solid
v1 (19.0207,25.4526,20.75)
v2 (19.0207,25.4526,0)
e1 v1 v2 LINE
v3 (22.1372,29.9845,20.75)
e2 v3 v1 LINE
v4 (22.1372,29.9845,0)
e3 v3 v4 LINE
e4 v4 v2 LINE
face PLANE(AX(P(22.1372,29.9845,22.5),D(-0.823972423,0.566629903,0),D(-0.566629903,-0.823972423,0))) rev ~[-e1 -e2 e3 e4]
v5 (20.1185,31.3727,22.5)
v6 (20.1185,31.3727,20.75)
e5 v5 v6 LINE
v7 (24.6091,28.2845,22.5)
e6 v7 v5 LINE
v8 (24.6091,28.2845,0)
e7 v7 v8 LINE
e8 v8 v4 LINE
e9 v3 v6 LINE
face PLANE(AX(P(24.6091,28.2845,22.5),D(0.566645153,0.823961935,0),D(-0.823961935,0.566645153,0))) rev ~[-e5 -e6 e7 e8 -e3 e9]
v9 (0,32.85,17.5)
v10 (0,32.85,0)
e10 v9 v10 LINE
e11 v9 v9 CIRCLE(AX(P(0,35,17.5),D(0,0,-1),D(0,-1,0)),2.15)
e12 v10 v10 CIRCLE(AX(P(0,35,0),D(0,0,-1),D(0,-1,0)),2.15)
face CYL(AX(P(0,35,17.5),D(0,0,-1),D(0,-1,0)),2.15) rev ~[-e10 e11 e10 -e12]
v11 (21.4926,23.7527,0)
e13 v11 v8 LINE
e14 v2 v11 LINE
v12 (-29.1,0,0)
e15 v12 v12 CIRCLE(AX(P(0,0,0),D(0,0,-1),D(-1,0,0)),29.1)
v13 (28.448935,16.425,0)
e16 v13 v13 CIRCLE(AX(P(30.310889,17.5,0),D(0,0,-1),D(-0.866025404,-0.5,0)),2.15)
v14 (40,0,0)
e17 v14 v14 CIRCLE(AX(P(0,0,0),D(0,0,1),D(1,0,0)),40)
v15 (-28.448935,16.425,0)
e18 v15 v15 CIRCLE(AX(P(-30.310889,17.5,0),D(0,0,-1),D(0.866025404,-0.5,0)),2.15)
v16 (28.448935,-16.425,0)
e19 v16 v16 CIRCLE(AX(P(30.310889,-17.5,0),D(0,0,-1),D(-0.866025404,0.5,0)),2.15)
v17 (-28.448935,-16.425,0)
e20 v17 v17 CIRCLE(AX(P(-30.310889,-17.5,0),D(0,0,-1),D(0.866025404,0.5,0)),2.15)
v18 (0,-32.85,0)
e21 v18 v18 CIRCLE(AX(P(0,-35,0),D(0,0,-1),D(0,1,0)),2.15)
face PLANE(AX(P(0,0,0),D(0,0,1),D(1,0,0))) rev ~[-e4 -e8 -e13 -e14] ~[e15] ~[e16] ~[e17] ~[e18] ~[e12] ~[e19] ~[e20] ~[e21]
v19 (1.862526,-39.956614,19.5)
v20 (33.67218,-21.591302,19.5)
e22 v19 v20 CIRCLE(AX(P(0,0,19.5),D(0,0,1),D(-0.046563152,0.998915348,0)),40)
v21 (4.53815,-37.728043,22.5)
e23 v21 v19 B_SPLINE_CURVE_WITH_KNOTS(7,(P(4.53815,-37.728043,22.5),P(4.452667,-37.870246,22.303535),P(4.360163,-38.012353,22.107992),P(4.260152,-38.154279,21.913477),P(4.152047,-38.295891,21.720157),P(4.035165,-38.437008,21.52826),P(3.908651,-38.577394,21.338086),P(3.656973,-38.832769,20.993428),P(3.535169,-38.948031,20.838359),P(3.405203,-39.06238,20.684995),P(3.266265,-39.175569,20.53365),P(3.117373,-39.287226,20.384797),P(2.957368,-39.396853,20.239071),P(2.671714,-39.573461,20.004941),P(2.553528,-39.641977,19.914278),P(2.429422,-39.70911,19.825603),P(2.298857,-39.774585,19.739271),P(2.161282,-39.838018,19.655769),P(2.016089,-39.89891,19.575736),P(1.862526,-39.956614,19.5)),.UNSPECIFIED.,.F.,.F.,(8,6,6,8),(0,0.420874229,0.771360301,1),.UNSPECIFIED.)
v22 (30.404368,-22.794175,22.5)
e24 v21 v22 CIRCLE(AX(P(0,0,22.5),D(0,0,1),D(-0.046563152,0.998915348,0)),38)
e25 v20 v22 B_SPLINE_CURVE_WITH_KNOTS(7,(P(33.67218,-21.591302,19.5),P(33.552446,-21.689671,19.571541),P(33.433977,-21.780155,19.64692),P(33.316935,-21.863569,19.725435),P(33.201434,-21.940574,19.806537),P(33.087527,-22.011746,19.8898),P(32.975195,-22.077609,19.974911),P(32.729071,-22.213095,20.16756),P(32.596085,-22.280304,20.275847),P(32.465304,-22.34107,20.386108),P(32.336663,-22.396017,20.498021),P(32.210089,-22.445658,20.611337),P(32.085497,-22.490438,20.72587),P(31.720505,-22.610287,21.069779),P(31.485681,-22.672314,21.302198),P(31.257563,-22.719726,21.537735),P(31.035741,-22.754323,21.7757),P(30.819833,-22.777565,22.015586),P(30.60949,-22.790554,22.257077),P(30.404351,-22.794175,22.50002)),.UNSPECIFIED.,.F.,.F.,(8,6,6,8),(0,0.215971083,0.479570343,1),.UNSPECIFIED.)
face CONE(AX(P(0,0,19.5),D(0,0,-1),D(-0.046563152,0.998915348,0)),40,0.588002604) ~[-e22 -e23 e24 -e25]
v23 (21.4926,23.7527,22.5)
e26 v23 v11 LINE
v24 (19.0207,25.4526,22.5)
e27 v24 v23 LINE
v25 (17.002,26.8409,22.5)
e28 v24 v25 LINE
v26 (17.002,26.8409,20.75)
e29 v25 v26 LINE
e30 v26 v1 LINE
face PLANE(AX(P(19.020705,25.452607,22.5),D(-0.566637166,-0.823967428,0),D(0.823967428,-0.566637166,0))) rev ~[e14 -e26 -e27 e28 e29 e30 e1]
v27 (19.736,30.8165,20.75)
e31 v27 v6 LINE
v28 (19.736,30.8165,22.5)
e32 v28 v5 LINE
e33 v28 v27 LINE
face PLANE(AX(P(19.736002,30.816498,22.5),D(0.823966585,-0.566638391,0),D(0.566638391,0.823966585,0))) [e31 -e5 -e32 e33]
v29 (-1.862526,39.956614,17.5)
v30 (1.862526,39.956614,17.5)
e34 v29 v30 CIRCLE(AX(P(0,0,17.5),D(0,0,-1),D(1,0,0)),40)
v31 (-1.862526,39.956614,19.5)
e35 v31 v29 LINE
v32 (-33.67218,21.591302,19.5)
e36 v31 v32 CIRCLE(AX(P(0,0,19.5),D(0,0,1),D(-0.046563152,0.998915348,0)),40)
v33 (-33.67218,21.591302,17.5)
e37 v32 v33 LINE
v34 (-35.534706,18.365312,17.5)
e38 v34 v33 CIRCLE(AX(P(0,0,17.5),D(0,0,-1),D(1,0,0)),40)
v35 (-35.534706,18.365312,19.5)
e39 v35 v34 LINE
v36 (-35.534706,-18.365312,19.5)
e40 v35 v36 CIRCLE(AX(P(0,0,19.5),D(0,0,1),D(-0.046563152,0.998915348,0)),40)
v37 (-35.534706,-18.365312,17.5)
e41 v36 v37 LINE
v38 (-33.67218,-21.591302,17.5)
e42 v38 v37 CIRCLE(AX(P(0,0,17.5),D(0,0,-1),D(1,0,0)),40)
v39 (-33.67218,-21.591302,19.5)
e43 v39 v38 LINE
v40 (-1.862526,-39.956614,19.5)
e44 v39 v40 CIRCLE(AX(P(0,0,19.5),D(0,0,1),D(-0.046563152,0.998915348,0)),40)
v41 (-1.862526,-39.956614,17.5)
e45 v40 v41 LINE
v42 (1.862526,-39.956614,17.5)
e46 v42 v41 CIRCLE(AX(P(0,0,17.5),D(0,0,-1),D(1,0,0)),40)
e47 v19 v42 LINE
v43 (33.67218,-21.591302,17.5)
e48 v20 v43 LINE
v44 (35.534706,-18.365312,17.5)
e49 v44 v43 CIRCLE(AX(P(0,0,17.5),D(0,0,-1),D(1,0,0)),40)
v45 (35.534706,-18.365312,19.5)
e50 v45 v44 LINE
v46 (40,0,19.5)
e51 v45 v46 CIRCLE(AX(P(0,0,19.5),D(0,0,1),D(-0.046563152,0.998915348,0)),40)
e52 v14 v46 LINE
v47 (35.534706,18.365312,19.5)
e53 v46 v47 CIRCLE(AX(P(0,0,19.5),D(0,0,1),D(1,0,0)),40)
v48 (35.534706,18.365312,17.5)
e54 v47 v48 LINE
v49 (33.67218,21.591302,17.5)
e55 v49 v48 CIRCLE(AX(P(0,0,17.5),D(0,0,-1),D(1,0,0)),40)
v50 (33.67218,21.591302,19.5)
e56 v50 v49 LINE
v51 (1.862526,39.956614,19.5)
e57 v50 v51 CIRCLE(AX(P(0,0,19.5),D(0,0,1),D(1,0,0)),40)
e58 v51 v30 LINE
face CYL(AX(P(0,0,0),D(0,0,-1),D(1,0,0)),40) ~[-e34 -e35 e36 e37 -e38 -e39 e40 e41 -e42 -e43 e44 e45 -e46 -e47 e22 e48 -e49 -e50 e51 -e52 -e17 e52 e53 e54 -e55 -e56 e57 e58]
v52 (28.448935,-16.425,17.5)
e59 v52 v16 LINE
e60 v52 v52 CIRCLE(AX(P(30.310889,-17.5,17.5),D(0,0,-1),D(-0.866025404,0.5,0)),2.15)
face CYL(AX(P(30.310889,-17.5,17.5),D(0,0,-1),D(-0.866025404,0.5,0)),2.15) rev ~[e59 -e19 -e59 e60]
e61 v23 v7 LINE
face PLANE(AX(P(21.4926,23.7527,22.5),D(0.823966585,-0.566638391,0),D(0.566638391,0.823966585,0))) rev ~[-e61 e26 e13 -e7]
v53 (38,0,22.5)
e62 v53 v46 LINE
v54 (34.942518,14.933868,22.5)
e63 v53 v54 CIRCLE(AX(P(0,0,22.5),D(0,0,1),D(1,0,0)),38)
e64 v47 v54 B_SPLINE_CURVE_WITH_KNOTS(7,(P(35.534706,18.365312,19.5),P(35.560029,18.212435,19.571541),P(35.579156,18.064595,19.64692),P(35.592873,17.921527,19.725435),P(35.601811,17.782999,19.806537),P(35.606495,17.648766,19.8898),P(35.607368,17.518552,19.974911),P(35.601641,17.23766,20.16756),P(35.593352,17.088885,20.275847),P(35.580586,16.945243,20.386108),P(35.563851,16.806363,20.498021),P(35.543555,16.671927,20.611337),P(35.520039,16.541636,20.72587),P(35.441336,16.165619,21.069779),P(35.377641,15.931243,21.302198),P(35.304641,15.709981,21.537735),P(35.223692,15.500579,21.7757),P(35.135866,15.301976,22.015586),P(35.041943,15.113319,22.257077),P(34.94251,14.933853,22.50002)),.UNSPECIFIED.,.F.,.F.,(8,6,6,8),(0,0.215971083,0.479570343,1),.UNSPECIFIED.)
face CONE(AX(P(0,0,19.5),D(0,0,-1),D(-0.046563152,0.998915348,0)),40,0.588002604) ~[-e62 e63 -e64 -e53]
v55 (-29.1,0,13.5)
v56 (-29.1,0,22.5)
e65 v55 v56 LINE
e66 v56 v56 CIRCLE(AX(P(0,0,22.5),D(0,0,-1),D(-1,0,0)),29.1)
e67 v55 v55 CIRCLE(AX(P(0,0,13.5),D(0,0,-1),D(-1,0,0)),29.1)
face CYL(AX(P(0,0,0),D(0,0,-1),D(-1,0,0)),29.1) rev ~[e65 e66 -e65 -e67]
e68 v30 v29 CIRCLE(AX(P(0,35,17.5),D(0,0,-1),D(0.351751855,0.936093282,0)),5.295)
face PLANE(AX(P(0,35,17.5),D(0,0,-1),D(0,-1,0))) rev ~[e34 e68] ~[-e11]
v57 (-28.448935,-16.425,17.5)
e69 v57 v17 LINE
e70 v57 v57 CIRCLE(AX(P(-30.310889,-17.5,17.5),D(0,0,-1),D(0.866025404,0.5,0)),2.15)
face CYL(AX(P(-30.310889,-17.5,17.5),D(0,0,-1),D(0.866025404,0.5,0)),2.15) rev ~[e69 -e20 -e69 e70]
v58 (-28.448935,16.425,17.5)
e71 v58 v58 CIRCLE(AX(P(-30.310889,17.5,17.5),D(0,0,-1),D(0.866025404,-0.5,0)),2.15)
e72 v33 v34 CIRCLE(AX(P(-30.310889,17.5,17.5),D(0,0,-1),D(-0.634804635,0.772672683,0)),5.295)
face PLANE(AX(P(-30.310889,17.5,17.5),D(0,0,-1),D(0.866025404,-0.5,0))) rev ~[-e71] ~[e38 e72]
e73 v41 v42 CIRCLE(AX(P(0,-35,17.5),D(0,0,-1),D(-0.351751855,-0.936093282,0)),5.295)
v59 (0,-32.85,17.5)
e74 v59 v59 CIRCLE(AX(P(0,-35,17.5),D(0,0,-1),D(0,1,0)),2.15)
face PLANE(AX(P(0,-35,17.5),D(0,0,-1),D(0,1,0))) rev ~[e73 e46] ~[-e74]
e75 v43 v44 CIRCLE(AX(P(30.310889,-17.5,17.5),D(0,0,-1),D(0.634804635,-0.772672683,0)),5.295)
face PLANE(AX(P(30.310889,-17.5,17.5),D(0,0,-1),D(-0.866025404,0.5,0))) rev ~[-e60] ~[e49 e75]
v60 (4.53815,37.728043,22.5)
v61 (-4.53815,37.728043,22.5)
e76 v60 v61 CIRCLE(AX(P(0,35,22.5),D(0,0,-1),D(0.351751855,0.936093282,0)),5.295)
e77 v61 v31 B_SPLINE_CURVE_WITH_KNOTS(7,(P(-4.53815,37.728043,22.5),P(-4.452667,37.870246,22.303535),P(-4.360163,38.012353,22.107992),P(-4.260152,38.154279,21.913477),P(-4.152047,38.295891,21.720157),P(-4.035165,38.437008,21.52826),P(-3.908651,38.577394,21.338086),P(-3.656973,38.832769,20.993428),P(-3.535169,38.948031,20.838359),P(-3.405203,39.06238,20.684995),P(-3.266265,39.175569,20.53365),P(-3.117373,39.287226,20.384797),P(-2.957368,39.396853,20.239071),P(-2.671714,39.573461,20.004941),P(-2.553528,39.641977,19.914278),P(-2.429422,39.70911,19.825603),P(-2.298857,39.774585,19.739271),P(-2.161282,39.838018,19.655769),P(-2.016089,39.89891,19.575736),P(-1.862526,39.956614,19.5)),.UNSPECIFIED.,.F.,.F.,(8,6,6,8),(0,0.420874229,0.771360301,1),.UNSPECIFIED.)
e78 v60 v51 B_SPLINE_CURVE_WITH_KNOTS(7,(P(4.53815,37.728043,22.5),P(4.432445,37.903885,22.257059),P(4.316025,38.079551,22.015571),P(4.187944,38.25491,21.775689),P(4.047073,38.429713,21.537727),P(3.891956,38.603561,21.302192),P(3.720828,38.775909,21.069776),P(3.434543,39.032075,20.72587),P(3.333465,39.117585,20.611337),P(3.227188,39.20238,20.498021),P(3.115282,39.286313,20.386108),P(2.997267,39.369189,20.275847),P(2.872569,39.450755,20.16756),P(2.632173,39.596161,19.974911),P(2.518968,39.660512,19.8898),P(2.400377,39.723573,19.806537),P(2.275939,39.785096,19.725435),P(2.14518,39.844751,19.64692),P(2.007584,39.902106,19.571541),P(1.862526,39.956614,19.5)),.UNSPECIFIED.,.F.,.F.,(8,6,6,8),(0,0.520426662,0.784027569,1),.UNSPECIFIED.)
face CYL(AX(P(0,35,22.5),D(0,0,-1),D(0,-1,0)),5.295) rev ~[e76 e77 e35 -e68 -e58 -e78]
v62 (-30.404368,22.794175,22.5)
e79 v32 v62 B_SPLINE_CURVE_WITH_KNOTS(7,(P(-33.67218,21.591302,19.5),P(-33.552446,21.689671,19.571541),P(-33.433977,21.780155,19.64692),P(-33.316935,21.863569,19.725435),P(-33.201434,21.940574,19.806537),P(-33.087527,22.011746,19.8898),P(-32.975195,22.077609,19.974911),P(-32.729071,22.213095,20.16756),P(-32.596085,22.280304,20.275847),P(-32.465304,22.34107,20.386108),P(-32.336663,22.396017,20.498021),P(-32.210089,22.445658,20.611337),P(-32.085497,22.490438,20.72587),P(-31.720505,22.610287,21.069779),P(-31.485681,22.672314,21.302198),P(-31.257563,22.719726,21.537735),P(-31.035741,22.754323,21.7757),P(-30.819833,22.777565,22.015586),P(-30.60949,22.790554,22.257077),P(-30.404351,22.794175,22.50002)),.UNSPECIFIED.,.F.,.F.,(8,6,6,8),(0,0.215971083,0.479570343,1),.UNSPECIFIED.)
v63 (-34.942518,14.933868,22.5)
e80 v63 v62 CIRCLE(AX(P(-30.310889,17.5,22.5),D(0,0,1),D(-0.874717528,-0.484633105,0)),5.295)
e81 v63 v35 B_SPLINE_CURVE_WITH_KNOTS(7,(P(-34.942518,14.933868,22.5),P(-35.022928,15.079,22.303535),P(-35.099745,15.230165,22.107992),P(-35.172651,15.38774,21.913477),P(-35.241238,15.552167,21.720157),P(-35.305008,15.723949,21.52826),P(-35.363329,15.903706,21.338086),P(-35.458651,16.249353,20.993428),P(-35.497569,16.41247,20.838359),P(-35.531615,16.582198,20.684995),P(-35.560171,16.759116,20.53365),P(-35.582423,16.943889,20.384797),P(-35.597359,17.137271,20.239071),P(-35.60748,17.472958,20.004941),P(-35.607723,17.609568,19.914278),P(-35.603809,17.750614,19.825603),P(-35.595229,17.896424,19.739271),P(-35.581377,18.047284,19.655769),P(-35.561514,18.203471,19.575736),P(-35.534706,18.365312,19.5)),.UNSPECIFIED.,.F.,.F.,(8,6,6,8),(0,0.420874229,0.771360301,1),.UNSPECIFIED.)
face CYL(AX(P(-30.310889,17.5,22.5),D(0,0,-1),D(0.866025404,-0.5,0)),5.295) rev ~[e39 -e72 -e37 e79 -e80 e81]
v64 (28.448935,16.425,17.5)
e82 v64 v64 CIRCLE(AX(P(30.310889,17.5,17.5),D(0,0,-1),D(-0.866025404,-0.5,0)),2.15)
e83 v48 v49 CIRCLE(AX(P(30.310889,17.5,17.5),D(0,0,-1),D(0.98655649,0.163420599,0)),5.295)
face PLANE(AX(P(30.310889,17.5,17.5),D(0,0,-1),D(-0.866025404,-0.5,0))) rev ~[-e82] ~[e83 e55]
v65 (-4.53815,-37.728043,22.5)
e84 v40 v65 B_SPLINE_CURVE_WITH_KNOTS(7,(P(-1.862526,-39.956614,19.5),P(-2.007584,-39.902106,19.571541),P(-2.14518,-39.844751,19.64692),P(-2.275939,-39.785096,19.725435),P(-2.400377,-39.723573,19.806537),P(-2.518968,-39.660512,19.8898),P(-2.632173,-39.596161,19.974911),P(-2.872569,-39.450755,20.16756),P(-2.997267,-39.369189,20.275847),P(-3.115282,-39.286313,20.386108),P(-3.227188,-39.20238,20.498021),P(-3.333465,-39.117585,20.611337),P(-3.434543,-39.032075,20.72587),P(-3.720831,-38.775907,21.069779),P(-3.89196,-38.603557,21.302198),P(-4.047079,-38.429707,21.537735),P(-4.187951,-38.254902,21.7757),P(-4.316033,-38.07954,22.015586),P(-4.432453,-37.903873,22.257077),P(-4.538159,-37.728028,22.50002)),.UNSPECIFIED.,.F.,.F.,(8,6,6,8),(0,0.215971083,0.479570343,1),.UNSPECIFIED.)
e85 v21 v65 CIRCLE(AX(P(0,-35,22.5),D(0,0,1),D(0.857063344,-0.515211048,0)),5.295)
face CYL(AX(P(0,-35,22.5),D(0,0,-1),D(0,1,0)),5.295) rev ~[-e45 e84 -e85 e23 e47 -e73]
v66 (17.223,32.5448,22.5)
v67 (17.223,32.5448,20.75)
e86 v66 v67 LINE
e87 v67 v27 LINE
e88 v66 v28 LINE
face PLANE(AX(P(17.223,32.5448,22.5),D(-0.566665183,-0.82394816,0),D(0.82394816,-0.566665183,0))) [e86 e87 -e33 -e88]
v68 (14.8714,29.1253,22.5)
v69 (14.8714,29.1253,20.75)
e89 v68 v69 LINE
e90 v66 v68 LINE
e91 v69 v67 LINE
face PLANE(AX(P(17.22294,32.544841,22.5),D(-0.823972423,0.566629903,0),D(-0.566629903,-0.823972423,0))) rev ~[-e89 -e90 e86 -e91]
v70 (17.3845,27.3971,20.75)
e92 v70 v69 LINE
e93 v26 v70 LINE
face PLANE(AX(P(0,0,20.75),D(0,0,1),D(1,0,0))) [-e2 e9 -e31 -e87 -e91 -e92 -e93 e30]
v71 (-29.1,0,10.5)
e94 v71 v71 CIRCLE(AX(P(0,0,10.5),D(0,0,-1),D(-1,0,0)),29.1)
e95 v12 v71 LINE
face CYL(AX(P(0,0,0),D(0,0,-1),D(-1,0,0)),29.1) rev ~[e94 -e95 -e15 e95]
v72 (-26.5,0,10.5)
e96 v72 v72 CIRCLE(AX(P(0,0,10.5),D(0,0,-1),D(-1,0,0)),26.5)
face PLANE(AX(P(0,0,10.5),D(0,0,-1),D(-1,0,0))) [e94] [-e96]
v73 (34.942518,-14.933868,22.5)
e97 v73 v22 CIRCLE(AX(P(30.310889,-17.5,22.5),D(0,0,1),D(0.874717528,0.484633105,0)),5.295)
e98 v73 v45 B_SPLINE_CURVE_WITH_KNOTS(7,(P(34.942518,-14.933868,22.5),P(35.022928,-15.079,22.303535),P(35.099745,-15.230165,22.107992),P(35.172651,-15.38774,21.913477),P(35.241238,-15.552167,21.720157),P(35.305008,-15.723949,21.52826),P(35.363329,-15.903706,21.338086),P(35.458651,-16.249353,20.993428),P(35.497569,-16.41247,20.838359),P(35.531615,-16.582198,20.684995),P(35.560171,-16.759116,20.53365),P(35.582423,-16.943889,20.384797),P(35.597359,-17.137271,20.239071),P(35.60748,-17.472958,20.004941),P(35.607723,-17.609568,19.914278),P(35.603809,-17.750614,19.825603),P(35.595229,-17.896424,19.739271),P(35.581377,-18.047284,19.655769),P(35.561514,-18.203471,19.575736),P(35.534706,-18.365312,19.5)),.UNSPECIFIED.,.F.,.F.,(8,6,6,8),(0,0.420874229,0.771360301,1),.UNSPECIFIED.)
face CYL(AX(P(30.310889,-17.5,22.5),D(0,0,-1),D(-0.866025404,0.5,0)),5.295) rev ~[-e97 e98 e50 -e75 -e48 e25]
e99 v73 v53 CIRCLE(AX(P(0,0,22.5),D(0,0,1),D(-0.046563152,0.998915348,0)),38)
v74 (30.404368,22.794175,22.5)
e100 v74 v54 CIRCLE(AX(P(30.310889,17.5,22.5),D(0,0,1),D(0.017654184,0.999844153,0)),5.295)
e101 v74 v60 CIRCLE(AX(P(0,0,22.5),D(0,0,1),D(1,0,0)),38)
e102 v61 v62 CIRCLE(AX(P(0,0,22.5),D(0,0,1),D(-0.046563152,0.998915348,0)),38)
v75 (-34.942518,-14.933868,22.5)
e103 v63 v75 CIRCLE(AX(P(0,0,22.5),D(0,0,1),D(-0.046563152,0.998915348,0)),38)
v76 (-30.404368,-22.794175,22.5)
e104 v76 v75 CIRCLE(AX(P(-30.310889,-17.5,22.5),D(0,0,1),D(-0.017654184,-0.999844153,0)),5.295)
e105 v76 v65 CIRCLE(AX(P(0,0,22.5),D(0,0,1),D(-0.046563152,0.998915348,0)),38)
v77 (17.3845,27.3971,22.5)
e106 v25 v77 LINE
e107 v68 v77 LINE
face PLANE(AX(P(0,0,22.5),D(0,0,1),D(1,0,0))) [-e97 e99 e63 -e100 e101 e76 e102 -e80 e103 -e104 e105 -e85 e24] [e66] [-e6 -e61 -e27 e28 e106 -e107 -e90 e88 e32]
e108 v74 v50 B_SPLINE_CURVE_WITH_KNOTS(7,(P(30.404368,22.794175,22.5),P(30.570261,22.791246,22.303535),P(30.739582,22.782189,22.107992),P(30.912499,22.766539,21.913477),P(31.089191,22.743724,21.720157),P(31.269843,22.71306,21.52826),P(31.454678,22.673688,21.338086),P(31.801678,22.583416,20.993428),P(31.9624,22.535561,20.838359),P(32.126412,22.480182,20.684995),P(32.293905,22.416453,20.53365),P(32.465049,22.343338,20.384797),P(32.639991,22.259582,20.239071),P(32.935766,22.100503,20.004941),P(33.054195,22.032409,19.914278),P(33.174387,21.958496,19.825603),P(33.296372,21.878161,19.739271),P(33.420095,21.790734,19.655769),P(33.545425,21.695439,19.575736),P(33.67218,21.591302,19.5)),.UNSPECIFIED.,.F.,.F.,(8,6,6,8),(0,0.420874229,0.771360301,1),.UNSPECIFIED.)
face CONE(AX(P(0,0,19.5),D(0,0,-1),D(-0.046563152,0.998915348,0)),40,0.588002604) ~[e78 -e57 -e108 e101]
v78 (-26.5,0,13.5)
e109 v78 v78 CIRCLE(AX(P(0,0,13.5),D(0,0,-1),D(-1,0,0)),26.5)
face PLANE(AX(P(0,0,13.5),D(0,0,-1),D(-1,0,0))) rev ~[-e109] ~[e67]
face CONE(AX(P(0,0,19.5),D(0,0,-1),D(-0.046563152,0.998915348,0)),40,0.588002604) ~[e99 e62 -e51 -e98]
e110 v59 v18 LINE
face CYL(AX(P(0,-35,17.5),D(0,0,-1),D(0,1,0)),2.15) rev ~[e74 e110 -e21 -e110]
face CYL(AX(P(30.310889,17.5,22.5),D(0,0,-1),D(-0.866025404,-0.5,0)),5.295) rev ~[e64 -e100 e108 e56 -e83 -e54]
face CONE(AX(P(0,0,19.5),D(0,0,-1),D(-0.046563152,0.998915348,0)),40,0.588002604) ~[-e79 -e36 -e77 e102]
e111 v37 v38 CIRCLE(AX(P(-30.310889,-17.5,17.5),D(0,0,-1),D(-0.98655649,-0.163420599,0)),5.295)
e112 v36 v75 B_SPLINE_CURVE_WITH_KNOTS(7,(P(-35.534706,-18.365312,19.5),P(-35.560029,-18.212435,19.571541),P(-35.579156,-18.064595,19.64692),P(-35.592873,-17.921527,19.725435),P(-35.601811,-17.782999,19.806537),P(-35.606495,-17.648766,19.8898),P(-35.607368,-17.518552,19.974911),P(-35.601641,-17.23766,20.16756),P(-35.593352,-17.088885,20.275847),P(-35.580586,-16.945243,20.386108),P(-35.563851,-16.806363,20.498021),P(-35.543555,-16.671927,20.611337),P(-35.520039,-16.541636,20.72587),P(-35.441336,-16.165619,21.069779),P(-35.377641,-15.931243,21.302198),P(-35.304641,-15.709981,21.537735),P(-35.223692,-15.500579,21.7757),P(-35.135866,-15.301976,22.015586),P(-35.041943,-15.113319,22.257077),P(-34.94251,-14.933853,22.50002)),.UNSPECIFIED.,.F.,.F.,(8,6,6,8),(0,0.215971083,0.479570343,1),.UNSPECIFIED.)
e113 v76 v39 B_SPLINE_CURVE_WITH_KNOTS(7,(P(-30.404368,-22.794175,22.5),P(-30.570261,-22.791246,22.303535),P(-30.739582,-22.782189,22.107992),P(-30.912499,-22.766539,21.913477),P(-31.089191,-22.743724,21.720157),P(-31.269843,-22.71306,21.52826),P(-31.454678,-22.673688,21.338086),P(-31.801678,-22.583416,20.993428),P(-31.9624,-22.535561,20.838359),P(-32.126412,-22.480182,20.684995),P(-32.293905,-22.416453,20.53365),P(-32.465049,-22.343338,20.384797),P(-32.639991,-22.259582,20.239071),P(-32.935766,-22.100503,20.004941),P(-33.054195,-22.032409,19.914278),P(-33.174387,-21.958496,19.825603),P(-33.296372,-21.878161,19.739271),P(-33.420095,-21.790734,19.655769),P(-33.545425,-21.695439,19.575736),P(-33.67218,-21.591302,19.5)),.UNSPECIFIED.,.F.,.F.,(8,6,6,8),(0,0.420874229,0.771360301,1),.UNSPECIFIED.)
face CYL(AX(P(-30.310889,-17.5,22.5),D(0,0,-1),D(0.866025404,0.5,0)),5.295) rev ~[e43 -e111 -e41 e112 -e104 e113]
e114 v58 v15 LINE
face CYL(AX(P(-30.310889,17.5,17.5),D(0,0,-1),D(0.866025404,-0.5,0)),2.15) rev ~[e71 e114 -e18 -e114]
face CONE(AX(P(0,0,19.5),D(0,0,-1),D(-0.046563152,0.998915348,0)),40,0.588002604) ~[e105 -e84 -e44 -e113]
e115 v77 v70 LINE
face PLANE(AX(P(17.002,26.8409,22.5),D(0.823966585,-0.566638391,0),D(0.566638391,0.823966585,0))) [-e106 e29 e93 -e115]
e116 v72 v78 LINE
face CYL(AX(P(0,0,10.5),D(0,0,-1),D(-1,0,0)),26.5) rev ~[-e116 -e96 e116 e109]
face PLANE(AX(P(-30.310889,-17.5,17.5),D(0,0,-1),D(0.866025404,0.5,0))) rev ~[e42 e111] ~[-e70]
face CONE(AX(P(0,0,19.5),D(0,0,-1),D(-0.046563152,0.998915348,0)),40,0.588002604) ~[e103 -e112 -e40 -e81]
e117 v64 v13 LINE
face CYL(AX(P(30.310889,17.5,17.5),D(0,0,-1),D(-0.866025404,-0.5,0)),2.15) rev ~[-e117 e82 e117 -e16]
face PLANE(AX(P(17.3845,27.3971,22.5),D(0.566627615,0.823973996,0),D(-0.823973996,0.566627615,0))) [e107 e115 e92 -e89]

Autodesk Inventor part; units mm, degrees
ref_plane "YZ Plane" through (0, 0, 0) normal (1, 0, 0) x (0, 1, 0)
ref_plane "XZ Plane" through (0, 0, 0) normal (0, 1, 0) x (-1, 0, 0)
ref_plane "XY Plane" through (0, 0, 0) normal (0, 0, 1) x (1, 0, 0)
sketch "Sketch1" plane through (0, 0, 0) normal (0, 0, 1) x (1, 0, 0)
  circle A0 centre (0, 0) radius 40
  dimension "d0" = 80
extrude "Extrusion1" add sketch "Sketch1" along normal blind 22.5
sketch "Sketch2" plane through (0, 0, 22.5) normal (0, 0, 1) x (1, 0, 0)
  point P0 (0, 0)
  point P1 (0, 35)
  dimension "d3" = 35
hole "Hole1" at (0, 35, 22.5) direction (0, 0, -1) diameter 4.3 end through all counterbore diameter 10.59 counterbore depth 5 clearance for "Hex Head Machine Screw" size "M4" standard "Ansi Metric M Profile"
chamfer "Chamfer1" distance 2 distance2 3 2 edges at (-27.6179, -28.9353, 22.5) (28.9353, 27.6179, 22.5) measured on face at (-2.7418, -16.4668, 22.5)
pattern_circular "Circular Pattern1" count 6 over 360 about axis through (0, 0, 0) along (0, 0, 1) of "Hole1"
sketch "Sketch3" plane through (0, 0, 0) normal (0, 0, -1) x (-1, 0, 0)
  circle A0 centre (0, 0) radius 29.1
  dimension "d17" = 58.2
extrude "Extrusion2" cut sketch "Sketch3" against normal through all
ref_plane "Work Plane1" through (0, 0, 10.5) normal (0, 0, -1) x (-1, 0, 0)
sketch "Sketch4" plane through (0, 0, 10.5) normal (0, 0, -1) x (-1, 0, 0)
  circle A0 centre (0, 0) radius 29.5
  circle A1 centre (0, 0) radius 26.5
  dimension "d21" = 53
  dimension "d22" = 59
extrude "Extrusion3" add sketch "Sketch4" against normal blind 3
sketch "Sketch5" plane through (0, 0, 22.5) normal (0, 0, 1) x (1, 0, 0)
  arc A0 (33.6722, 21.5913) -> (1.8625, 39.9566) centre (0, 0) ccw projected
  line L0 (0, 0) -> (40, 0) construction
  line L1 (21.4926, 23.7527) -> (24.6091, 28.2845)
  line L2 (24.6091, 28.2845) -> (17.6054, 33.101)
  line L3 (17.6054, 33.101) -> (14.4889, 28.5691)
  line L4 (14.4889, 28.5691) -> (21.4926, 23.7527)
  line L5 (21.4926, 23.7527) -> (17.6054, 33.101) construction
  line L6 (24.6091, 28.2845) -> (14.4889, 28.5691) construction
  line L7 (17.002, 26.8409) -> (20.1185, 31.3727)
  line L8 (22.1372, 29.9845) -> (19.0207, 25.4526)
  line L9 (14.8714, 29.1253) -> (17.223, 32.5448)
  line L10 (17.223, 32.5448) -> (19.736, 30.8165)
  line L11 (19.736, 30.8165) -> (17.3845, 27.3971)
  line L12 (17.3845, 27.3971) -> (14.8714, 29.1253)
  line L13 (19.549, 28.4268) -> (16.0472, 30.8351)
  line L14 (17.3845, 27.3971) -> (17.223, 32.5448)
  line L15 (14.8714, 29.1253) -> (19.736, 30.8165)
  line L16 (0, 0) -> (17.3037, 29.9709)
  line L17 (0, 0) -> (19.549, 28.4268)
  dimension "d26" = 8.5
  dimension "d27" = 5.5
  dimension "d29" = 34.5
  dimension "d30" = 3.05
  dimension "d36" = 3
  dimension "d41" = 4.15
  dimension "d42" = 60
extrude "Extrusion4" cut sketch "Sketch5" against normal blind 1.75 contours L4 L17 L13 L7 L2 L8 | L4 L7 L13 L17 | L15 L14 L10 | L7 L13 L15 | L14 L13 L7 | L12 L16 L14 | L14 L13 L3 | L15 L3 L13 | L16 L12 L15
extrude "Extrusion7" cut sketch "Sketch5" against normal through all contours L4 L8 L2 L1
properties part number "Ring Cover Top"
